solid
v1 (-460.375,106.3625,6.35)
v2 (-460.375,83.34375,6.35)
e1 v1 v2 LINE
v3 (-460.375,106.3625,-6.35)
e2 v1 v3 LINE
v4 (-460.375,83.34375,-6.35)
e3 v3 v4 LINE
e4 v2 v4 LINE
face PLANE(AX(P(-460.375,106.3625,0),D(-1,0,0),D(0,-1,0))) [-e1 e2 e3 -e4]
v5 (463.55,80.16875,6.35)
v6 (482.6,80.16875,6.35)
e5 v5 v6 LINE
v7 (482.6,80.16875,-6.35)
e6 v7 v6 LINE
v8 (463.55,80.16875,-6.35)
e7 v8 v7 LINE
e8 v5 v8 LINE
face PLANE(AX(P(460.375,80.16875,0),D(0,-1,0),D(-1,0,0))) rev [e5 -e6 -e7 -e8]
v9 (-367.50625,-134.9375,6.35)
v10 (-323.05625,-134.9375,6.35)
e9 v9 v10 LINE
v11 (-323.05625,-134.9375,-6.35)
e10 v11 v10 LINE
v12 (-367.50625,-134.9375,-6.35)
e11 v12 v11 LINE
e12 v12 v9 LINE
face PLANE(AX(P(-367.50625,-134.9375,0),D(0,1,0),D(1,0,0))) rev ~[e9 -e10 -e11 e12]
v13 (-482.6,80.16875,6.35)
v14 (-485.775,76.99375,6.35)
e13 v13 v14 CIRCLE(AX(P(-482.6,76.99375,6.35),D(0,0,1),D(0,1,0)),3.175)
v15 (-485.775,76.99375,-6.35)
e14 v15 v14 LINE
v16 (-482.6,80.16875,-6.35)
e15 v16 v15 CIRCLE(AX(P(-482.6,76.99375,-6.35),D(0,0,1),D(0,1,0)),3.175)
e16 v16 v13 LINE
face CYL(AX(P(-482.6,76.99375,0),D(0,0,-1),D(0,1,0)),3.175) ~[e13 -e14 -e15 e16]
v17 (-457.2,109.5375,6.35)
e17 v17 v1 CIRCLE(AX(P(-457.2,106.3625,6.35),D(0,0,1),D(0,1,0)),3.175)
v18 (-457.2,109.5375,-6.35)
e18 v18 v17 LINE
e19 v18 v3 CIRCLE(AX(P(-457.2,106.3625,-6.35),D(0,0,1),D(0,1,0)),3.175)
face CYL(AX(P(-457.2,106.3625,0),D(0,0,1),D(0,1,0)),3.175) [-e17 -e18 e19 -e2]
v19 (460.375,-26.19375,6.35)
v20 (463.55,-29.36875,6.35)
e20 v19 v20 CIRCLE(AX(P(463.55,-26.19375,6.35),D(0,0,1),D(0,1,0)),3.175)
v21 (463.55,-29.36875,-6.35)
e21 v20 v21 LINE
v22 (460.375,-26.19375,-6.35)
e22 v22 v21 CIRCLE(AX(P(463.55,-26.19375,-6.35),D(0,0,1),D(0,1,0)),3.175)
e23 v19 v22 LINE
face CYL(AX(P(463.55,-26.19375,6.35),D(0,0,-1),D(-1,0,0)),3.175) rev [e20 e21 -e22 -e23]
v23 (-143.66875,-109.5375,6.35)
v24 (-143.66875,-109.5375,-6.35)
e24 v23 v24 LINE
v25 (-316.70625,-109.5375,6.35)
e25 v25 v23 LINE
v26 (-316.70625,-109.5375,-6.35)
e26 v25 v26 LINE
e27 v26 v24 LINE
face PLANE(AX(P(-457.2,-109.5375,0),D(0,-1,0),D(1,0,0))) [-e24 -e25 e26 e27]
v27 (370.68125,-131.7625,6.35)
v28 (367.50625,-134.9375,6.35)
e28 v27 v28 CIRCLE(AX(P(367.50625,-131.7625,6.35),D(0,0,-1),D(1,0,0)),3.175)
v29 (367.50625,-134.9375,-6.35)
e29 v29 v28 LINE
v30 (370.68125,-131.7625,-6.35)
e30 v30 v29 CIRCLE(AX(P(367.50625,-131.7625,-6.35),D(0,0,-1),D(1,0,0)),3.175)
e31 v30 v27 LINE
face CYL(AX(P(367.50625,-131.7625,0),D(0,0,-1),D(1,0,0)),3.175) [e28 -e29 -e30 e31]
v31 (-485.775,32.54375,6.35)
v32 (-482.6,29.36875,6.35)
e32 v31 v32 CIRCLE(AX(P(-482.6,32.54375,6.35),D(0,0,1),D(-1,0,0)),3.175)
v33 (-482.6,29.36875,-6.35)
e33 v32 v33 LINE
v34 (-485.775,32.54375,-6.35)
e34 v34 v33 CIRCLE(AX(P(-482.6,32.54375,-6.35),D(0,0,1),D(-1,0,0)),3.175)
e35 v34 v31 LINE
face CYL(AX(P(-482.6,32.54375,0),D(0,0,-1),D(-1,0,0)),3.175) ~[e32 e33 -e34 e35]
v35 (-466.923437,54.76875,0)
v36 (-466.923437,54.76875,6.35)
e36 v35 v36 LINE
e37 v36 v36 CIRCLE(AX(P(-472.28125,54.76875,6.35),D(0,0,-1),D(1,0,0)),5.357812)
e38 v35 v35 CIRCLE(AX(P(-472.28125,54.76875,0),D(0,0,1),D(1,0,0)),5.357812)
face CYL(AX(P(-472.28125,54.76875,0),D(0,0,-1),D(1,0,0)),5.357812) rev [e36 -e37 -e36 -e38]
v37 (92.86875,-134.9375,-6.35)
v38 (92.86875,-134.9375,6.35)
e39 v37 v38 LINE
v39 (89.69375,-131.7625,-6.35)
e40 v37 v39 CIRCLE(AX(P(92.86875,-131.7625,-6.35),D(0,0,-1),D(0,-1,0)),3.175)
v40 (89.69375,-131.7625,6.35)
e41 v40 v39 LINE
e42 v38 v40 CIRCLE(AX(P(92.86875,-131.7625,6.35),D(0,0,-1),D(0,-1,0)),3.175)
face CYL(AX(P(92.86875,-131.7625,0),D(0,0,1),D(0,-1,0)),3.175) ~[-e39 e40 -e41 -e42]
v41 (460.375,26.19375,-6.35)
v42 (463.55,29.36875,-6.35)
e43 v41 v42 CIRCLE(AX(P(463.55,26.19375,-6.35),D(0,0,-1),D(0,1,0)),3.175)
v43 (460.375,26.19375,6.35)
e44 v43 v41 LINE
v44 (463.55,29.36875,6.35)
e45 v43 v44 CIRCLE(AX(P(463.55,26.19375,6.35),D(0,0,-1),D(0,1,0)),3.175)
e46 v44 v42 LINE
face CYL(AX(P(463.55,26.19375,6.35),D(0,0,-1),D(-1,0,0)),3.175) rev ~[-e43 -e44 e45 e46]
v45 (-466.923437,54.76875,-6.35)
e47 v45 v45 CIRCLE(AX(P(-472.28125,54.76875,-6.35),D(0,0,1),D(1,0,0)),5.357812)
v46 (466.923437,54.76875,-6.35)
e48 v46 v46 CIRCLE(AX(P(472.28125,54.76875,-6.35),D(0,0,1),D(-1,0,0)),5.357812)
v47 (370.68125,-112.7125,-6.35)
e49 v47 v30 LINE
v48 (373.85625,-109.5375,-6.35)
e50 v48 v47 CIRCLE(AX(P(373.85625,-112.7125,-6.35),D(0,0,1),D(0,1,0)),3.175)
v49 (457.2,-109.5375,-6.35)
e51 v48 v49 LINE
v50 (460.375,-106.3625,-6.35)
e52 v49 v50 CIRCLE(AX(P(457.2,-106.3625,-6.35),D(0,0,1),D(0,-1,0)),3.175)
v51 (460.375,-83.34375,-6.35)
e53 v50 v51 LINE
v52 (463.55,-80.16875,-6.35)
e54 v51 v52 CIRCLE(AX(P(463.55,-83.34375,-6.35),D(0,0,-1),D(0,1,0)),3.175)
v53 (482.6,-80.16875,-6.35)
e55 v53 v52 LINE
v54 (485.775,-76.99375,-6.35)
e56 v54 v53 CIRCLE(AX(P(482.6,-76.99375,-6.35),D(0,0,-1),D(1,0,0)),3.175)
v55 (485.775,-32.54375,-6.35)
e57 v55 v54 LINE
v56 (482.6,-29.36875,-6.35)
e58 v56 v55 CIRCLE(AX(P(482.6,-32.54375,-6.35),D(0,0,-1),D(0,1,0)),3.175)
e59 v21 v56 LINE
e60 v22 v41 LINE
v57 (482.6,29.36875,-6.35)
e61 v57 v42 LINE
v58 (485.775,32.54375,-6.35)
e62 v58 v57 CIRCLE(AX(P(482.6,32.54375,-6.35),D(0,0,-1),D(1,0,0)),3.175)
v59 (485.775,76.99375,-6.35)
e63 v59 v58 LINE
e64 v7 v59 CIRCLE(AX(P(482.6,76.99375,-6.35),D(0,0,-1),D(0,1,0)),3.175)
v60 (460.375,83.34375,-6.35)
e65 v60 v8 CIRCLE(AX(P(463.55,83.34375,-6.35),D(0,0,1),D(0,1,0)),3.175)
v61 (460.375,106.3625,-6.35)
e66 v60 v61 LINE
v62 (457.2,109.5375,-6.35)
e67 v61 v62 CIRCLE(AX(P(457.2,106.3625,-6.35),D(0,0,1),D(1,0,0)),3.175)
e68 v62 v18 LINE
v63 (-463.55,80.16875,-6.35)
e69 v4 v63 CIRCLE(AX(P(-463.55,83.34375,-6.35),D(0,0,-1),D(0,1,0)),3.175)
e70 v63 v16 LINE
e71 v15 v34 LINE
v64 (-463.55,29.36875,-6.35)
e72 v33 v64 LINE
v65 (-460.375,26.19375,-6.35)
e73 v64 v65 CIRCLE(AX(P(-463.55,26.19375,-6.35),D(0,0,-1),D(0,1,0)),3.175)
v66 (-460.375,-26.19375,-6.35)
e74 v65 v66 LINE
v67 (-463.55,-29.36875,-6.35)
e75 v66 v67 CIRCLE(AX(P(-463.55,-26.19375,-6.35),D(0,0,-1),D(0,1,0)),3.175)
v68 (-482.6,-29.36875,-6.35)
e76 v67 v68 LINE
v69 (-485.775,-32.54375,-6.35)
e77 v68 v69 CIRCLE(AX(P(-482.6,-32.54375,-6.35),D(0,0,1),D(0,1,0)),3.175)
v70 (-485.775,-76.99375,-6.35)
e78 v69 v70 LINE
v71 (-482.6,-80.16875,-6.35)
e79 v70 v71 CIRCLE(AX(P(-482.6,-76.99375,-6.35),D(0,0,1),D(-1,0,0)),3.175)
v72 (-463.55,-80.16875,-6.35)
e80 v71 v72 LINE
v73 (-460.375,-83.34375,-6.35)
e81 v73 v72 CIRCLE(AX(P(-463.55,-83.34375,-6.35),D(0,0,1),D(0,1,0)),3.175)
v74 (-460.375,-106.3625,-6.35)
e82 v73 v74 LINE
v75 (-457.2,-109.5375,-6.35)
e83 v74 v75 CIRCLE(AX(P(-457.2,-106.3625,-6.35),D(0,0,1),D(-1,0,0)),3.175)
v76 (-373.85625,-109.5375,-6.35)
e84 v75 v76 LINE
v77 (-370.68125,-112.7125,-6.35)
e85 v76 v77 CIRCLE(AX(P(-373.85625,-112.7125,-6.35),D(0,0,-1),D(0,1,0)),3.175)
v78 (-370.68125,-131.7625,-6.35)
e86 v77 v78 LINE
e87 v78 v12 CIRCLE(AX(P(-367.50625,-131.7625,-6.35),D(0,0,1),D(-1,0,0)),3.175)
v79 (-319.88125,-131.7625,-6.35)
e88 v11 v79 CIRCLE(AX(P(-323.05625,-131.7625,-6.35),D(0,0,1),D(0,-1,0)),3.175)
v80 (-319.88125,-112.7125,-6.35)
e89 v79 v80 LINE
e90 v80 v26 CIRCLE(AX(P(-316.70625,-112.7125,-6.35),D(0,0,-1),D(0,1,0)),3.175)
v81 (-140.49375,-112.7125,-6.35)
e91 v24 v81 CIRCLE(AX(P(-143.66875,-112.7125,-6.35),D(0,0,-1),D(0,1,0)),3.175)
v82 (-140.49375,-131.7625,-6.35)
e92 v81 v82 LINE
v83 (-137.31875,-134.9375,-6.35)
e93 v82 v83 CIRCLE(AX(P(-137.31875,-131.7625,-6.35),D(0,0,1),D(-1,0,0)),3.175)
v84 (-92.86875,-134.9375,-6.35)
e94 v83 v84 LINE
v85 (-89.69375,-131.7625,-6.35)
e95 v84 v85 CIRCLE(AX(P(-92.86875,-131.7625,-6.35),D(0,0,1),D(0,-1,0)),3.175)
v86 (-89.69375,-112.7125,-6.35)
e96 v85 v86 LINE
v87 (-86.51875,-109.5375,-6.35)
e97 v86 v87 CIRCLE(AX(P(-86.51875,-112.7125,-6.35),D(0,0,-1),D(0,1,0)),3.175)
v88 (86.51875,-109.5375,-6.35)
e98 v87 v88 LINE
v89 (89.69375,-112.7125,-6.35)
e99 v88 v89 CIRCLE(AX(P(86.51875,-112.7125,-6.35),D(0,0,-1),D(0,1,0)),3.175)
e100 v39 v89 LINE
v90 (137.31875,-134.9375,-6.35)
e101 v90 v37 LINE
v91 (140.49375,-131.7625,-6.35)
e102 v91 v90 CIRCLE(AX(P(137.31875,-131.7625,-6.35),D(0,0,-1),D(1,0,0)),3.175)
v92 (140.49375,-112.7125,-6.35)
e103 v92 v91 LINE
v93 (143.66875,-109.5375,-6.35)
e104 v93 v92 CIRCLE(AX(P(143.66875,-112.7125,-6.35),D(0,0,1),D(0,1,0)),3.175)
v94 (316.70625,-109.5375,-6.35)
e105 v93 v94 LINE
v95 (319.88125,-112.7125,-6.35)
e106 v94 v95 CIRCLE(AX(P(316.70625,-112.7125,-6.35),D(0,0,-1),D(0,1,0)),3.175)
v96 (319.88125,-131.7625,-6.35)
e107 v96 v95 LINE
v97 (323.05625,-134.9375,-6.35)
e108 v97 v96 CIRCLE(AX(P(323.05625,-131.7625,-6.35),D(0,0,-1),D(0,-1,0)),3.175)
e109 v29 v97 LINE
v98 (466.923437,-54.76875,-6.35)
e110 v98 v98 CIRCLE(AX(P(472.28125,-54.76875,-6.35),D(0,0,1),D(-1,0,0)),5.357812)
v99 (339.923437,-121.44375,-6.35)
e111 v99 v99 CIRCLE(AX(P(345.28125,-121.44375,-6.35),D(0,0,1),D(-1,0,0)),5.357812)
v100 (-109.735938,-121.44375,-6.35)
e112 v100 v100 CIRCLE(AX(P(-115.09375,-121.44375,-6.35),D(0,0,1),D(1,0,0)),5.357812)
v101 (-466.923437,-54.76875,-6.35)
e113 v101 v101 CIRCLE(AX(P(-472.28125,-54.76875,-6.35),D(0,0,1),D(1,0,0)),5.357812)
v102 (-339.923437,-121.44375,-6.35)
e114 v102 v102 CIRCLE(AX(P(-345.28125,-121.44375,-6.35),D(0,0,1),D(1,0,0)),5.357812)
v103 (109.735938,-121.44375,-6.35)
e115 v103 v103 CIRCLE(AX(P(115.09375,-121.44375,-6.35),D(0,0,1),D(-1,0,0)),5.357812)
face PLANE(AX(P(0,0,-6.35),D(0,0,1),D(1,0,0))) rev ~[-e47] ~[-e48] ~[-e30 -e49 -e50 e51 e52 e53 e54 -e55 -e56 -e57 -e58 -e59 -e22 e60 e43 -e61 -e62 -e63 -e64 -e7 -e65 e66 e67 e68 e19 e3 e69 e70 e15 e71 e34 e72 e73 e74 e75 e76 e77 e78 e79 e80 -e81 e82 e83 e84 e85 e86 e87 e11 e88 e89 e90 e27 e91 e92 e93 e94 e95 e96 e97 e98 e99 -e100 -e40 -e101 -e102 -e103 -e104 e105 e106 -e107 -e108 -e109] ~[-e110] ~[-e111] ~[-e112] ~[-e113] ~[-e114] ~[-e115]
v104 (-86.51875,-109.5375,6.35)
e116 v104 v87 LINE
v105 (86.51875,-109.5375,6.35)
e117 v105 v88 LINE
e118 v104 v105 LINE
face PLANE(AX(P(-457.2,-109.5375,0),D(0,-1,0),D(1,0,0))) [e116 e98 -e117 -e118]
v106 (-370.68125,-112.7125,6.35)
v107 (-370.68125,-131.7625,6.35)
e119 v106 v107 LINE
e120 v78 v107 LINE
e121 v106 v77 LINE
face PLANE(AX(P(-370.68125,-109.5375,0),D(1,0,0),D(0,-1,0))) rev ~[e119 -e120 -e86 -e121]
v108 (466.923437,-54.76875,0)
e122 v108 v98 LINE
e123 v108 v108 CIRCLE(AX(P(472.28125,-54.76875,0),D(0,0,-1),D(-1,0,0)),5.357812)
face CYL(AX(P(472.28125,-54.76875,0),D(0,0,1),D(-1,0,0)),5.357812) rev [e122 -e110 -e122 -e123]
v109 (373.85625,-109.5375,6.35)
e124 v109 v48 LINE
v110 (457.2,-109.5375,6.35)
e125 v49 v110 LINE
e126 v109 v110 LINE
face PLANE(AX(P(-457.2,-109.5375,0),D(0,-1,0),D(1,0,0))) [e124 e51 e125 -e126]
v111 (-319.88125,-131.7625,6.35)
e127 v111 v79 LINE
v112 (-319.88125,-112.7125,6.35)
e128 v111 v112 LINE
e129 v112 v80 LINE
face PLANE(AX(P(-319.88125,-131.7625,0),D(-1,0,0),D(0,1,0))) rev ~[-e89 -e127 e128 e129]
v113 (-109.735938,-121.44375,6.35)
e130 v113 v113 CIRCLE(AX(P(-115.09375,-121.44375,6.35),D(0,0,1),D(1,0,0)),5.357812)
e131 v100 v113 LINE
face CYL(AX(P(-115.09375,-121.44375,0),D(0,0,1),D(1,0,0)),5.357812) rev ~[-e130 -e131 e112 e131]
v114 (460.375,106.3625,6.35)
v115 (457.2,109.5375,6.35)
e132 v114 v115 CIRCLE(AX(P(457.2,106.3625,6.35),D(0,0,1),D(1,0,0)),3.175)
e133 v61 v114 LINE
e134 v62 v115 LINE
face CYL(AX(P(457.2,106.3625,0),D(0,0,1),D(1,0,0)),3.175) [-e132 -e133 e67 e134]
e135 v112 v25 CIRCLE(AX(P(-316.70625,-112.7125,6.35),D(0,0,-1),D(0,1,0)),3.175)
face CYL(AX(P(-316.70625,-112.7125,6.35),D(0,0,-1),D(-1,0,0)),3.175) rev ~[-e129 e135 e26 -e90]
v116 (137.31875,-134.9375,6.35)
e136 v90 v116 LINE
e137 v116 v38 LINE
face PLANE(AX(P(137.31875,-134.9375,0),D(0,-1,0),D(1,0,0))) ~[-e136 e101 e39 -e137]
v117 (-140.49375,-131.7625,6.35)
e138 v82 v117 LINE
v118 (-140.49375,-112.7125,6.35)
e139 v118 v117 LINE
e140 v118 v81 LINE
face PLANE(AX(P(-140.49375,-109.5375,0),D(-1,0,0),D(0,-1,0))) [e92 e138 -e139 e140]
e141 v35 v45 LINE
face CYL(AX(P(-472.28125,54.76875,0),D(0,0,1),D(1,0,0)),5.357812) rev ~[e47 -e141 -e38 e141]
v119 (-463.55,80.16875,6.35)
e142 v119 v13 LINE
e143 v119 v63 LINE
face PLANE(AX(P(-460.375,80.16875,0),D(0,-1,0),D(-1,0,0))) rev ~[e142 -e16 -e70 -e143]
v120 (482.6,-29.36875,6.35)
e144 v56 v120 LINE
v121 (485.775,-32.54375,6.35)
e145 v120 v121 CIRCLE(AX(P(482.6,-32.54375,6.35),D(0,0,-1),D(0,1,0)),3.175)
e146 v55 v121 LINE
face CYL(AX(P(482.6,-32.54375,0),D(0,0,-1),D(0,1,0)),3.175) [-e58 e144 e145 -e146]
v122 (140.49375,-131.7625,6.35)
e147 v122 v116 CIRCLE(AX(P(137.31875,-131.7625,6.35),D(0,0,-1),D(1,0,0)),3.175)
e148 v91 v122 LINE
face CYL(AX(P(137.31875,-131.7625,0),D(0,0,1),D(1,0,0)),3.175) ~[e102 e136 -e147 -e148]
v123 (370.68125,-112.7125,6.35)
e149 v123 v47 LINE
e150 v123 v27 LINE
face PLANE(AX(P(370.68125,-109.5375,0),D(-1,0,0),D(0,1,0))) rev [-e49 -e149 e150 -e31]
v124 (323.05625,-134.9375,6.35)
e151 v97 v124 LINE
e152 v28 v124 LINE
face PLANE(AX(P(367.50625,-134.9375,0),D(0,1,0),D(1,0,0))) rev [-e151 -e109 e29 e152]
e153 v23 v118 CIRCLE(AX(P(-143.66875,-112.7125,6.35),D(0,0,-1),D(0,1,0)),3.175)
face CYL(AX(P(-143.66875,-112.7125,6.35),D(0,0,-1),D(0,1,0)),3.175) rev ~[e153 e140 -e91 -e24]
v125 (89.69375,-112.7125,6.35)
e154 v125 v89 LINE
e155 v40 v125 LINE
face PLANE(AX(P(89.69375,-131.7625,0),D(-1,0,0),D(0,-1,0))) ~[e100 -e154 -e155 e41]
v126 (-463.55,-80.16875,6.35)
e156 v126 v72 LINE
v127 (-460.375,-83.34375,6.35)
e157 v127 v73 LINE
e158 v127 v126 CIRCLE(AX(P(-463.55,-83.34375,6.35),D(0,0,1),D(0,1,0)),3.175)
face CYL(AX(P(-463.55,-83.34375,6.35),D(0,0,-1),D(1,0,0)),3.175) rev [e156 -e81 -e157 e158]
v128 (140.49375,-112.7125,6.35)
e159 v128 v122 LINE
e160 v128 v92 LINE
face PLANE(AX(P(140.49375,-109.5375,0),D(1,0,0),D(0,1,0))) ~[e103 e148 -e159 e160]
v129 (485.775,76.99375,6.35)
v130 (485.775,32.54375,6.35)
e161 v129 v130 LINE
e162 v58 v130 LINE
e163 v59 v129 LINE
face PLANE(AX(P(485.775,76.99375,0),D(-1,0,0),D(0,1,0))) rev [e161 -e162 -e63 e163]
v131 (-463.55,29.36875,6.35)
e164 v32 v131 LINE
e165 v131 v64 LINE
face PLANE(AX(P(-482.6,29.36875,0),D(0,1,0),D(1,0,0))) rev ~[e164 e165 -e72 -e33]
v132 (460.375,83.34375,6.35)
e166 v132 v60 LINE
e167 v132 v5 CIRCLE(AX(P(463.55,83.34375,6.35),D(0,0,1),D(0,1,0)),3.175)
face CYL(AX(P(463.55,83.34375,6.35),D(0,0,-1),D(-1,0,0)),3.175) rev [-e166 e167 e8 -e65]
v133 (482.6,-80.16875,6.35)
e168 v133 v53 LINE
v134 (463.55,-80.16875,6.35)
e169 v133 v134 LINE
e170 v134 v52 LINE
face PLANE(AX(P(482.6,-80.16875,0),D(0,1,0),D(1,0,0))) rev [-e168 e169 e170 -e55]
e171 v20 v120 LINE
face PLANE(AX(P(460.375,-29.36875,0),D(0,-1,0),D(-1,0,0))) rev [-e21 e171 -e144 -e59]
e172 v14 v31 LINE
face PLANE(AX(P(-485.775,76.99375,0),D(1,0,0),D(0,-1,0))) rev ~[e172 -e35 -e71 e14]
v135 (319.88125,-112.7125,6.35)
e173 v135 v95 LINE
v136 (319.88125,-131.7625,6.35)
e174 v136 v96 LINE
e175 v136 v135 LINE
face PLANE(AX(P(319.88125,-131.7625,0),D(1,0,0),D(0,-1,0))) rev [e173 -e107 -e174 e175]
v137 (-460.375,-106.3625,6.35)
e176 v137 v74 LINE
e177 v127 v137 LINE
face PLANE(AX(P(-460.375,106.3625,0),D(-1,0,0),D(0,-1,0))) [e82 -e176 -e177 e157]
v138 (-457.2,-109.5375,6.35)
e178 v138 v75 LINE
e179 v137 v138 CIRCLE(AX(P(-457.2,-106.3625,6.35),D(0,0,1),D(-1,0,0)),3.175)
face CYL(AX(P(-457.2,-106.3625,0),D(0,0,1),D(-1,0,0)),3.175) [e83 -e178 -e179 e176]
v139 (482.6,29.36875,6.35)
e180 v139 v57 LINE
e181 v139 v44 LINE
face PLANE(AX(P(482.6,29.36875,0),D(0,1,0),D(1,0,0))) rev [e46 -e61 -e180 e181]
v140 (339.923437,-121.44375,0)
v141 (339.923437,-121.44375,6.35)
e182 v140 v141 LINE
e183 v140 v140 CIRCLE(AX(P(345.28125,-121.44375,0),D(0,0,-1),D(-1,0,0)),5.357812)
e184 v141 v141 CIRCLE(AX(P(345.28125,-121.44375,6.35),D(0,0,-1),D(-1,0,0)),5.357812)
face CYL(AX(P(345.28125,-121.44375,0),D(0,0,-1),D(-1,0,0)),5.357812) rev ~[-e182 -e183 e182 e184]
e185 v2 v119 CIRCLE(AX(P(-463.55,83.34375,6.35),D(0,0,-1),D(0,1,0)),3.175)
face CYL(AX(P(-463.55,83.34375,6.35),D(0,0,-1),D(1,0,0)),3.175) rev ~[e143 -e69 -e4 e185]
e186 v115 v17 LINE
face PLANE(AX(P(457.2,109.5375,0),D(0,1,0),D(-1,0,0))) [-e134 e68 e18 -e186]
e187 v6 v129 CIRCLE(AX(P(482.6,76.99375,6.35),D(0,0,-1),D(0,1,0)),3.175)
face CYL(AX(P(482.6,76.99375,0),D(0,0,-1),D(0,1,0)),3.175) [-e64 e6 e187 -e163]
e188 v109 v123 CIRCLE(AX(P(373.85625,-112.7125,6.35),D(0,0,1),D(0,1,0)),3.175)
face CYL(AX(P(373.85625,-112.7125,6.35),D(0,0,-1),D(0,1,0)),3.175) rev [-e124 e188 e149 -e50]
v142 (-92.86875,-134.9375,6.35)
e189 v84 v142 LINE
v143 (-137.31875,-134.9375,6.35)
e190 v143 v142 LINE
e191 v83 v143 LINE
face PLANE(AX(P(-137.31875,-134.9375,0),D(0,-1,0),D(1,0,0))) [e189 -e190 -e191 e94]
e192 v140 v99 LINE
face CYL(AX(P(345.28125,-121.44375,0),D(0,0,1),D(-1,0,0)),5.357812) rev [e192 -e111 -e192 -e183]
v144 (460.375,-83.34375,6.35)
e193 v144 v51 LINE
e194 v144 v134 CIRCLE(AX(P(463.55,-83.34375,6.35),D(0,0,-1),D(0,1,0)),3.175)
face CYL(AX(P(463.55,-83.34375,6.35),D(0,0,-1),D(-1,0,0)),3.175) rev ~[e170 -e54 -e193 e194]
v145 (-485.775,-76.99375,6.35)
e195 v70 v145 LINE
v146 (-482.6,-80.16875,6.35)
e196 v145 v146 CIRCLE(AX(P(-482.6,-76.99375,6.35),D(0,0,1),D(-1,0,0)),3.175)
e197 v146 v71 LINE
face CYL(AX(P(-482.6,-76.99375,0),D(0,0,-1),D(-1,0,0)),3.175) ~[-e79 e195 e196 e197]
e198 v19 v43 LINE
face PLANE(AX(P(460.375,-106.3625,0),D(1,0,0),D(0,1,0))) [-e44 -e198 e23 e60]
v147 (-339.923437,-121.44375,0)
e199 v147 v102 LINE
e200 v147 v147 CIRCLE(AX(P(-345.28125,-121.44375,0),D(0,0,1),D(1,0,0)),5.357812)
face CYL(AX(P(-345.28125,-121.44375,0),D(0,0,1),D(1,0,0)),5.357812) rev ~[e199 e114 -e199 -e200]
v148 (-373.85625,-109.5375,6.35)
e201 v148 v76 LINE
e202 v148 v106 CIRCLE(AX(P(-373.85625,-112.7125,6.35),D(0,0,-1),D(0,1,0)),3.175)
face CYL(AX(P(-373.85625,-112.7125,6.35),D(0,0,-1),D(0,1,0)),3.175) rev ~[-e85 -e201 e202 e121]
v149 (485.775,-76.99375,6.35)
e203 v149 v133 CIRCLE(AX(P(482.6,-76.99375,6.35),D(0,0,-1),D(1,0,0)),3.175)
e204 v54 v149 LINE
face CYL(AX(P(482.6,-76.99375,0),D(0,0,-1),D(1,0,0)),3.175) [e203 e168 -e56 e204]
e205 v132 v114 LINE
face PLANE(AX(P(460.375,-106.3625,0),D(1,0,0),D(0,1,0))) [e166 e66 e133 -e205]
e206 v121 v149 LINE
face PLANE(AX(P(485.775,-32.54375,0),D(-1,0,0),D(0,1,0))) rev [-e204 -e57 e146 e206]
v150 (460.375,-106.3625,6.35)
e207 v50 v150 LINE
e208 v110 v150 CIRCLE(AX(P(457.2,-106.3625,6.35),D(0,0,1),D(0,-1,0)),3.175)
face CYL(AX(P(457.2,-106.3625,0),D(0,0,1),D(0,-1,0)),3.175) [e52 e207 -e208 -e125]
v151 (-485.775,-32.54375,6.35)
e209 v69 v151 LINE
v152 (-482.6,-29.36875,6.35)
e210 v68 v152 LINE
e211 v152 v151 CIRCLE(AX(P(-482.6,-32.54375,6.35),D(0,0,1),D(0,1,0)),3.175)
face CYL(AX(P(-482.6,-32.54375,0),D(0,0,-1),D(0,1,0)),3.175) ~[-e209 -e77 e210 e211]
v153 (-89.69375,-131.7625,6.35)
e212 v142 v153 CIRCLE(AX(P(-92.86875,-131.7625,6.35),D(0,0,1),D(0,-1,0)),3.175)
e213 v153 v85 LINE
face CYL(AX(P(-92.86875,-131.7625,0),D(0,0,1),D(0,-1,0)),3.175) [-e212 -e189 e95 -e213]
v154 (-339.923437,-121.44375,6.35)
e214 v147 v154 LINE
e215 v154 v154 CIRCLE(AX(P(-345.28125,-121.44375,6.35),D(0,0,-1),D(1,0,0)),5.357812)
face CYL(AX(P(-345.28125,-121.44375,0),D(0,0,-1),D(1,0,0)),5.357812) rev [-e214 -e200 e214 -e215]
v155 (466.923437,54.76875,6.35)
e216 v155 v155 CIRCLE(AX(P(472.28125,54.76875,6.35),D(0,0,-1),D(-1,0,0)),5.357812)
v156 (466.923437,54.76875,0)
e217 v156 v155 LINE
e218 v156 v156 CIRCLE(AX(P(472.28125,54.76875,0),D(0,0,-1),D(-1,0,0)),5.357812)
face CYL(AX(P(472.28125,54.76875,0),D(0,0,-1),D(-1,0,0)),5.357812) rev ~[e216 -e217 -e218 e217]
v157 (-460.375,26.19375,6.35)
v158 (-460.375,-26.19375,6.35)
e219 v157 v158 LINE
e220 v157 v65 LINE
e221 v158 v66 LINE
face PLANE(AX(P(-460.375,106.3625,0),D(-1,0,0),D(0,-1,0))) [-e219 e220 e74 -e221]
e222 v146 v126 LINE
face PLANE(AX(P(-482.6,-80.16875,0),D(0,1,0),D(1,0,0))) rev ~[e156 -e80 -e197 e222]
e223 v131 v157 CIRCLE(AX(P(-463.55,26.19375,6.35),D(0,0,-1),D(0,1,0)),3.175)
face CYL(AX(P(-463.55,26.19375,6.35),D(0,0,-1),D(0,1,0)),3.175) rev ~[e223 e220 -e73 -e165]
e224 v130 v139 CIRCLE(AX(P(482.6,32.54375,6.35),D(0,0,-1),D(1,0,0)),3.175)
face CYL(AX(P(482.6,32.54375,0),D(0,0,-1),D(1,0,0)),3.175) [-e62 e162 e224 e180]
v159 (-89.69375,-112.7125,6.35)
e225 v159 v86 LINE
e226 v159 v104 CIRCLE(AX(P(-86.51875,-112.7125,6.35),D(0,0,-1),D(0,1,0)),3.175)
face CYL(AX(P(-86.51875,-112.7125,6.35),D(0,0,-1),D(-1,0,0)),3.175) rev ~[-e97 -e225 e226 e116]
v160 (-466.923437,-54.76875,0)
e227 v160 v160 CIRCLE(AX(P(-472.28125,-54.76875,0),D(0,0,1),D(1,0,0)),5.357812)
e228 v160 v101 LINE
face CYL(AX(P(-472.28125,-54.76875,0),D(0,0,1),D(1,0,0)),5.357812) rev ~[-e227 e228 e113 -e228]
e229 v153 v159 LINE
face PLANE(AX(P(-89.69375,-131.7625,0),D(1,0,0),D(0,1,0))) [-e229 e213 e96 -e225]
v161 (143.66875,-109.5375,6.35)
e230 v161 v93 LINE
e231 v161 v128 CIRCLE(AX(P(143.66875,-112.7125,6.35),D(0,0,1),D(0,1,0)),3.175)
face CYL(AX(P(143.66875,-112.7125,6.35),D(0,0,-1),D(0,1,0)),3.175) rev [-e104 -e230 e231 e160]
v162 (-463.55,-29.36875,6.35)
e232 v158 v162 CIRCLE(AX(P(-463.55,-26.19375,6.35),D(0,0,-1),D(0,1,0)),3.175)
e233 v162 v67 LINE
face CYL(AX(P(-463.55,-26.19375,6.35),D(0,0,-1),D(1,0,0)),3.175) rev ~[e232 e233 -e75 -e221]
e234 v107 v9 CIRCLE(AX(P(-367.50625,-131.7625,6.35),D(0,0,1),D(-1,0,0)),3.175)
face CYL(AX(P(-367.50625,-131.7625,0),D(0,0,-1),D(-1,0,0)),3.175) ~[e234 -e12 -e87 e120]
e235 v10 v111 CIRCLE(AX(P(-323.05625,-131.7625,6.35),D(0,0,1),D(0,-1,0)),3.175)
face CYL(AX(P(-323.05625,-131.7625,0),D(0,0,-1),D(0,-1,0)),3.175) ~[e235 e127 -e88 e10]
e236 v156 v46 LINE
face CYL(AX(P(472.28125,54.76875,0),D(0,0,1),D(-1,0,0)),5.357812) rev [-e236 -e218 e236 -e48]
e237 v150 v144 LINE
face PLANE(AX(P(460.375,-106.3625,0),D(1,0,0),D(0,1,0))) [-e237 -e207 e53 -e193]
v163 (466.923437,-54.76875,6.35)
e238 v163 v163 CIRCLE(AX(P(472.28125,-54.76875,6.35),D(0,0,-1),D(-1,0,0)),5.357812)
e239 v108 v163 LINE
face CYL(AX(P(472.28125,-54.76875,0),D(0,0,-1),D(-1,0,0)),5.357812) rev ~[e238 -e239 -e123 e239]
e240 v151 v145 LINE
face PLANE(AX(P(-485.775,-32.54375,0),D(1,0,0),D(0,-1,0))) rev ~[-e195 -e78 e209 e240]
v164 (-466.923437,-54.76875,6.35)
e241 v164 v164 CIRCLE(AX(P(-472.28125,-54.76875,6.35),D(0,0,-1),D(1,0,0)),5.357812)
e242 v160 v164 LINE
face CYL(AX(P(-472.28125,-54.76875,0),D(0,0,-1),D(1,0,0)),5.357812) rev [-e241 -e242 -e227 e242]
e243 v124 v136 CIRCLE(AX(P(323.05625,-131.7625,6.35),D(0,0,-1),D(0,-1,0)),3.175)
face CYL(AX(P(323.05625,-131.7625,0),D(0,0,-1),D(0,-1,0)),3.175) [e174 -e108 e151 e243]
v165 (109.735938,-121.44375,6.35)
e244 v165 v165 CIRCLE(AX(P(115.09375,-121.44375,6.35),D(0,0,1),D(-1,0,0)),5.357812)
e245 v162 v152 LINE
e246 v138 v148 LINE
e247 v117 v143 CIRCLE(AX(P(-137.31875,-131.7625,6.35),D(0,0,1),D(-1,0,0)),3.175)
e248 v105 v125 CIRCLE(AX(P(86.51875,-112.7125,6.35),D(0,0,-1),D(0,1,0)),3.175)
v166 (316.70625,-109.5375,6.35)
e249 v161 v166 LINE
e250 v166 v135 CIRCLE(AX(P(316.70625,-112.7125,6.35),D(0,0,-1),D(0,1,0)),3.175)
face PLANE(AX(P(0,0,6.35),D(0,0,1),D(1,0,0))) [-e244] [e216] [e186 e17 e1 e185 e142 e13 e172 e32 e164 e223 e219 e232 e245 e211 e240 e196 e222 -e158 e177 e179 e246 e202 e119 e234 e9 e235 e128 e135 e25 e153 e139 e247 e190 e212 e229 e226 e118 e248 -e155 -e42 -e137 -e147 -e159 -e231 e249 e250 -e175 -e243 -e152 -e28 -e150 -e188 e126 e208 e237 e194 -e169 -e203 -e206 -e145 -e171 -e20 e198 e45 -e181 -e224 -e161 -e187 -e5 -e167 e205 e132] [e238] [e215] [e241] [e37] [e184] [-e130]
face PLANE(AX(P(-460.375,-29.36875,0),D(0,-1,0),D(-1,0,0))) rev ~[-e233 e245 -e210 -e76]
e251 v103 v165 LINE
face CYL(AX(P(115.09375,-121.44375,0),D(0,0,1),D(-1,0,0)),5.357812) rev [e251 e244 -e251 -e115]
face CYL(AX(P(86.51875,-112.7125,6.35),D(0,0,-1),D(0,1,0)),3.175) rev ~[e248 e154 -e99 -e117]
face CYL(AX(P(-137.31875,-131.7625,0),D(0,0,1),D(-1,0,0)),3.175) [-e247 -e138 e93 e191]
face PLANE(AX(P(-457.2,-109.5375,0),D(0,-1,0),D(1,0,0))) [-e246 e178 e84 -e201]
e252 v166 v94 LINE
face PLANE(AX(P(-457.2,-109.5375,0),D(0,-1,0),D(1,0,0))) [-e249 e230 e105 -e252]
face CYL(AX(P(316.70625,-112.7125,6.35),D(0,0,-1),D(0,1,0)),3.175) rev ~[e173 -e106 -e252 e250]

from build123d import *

# Parameters (mm, degrees)
BOSS_EXTRUDE1_DEPTH  = 6.35
TABS_DEPTH           = 6.35
FILLET1_R            = 3.175
SKETCH3_R            = 5.3578125
CABLE_TIE_HOLE_DEPTH = 7.35


with BuildPart() as part:
    # Sketch1 → Boss-Extrude1 (new body, symmetric)
    with BuildSketch(Plane.XY):
        with BuildLine():
            Line((-457.2, -109.5375), (457.2, -109.5375))
            ThreePointArc((457.2, -109.5375), (459.44506403, -108.60756403), (460.375, -106.3625))
            Line((460.375, -106.3625), (460.375, 106.3625))
            ThreePointArc((460.375, 106.3625), (459.44506403, 108.60756403), (457.2, 109.5375))
            Line((457.2, 109.5375), (-457.2, 109.5375))
            ThreePointArc((-457.2, 109.5375), (-459.44506403, 108.60756403), (-460.375, 106.3625))
            Line((-460.375, 106.3625), (-460.375, -106.3625))
            ThreePointArc((-460.375, -106.3625), (-459.44506403, -108.60756403), (-457.2, -109.5375))
        make_face()
    extrude(amount=BOSS_EXTRUDE1_DEPTH, both=True)

    # Sketch2 → Tabs (add, symmetric)
    with BuildSketch(Plane.XY):
        with BuildLine():
            Line((-460.375, 80.16875), (-482.6, 80.16875))
            ThreePointArc((-482.6, 80.16875), (-484.84506403, 79.23881403), (-485.775, 76.99375))
            Line((-485.775, 76.99375), (-485.775, 32.54375))
            ThreePointArc((-485.775, 32.54375), (-484.84506403, 30.29868597), (-482.6, 29.36875))
            Line((-482.6, 29.36875), (-460.375, 29.36875))
            Line((-460.375, 29.36875), (-460.375, 80.16875))
        make_face()
        with BuildLine():
            Line((-460.375, -29.36875), (-482.6, -29.36875))
            ThreePointArc((-482.6, -29.36875), (-484.84506403, -30.29868597), (-485.775, -32.54375))
            Line((-485.775, -32.54375), (-485.775, -76.99375))
            ThreePointArc((-485.775, -76.99375), (-484.84506403, -79.23881403), (-482.6, -80.16875))
            Line((-482.6, -80.16875), (-460.375, -80.16875))
            Line((-460.375, -80.16875), (-460.375, -29.36875))
        make_face()
        with BuildLine():
            Line((-370.68125, -109.5375), (-370.68125, -131.7625))
            ThreePointArc((-370.68125, -131.7625), (-369.75131403, -134.00756403), (-367.50625, -134.9375))
            Line((-367.50625, -134.9375), (-323.05625, -134.9375))
            ThreePointArc((-323.05625, -134.9375), (-320.81118597, -134.00756403), (-319.88125, -131.7625))
            Line((-319.88125, -131.7625), (-319.88125, -109.5375))
            Line((-319.88125, -109.5375), (-370.68125, -109.5375))
        make_face()
        with BuildLine():
            Line((-140.49375, -109.5375), (-140.49375, -131.7625))
            ThreePointArc((-140.49375, -131.7625), (-139.56381403, -134.00756403), (-137.31875, -134.9375))
            Line((-137.31875, -134.9375), (-92.86875, -134.9375))
            ThreePointArc((-92.86875, -134.9375), (-90.62368597, -134.00756403), (-89.69375, -131.7625))
            Line((-89.69375, -131.7625), (-89.69375, -109.5375))
            Line((-89.69375, -109.5375), (-140.49375, -109.5375))
        make_face()
    tabs = extrude(amount=TABS_DEPTH, both=True)

    # Mirror1: Tabs across plane
    add(tabs.mirror(Plane(origin=(0, 0, 0), x_dir=(0, 0, 1), z_dir=(1, 0, 0))))

    # Fillet1
    fillet1_edges = [part.edges().sort_by_distance(p)[0] for p in [
        (460.375, -29.36875, 0),
        (460.375, -80.16875, 0),
        (370.68125, -109.5375, 0),
        (319.88125, -109.5375, 0),
        (140.49375, -109.5375, 0),
        (89.69375, -109.5375, 0),
        (-460.375, 29.36875, 0),
        (-460.375, 80.16875, 0),
        (-460.375, -80.16875, 0),
        (-460.375, -29.36875, 0),
        (-319.88125, -109.5375, 0),
        (-370.68125, -109.5375, 0),
        (-89.69375, -109.5375, 0),
        (-140.49375, -109.5375, 0),
        (460.375, 80.16875, 0),
        (460.375, 29.36875, 0),
    ]]
    fillet(fillet1_edges, radius=FILLET1_R)

    # Sketch3 → Cable Tie hole (cut, symmetric)
    with BuildSketch(Plane.XY):
        with Locations((-472.28125, 54.76875)):
            Circle(SKETCH3_R)
        with Locations((-472.28125, -54.76875)):
            Circle(SKETCH3_R)
        with Locations((-345.28125, -121.44375)):
            Circle(SKETCH3_R)
        with Locations((-115.09375, -121.44375)):
            Circle(SKETCH3_R)
    cable_tie_hole = extrude(amount=CABLE_TIE_HOLE_DEPTH, both=True, mode=Mode.SUBTRACT)

    # Mirror2: Cable Tie hole across plane
    add(cable_tie_hole.mirror(Plane(origin=(0, 0, 0), x_dir=(0, 0, 1), z_dir=(1, 0, 0))), mode=Mode.SUBTRACT)


solid = part.part
